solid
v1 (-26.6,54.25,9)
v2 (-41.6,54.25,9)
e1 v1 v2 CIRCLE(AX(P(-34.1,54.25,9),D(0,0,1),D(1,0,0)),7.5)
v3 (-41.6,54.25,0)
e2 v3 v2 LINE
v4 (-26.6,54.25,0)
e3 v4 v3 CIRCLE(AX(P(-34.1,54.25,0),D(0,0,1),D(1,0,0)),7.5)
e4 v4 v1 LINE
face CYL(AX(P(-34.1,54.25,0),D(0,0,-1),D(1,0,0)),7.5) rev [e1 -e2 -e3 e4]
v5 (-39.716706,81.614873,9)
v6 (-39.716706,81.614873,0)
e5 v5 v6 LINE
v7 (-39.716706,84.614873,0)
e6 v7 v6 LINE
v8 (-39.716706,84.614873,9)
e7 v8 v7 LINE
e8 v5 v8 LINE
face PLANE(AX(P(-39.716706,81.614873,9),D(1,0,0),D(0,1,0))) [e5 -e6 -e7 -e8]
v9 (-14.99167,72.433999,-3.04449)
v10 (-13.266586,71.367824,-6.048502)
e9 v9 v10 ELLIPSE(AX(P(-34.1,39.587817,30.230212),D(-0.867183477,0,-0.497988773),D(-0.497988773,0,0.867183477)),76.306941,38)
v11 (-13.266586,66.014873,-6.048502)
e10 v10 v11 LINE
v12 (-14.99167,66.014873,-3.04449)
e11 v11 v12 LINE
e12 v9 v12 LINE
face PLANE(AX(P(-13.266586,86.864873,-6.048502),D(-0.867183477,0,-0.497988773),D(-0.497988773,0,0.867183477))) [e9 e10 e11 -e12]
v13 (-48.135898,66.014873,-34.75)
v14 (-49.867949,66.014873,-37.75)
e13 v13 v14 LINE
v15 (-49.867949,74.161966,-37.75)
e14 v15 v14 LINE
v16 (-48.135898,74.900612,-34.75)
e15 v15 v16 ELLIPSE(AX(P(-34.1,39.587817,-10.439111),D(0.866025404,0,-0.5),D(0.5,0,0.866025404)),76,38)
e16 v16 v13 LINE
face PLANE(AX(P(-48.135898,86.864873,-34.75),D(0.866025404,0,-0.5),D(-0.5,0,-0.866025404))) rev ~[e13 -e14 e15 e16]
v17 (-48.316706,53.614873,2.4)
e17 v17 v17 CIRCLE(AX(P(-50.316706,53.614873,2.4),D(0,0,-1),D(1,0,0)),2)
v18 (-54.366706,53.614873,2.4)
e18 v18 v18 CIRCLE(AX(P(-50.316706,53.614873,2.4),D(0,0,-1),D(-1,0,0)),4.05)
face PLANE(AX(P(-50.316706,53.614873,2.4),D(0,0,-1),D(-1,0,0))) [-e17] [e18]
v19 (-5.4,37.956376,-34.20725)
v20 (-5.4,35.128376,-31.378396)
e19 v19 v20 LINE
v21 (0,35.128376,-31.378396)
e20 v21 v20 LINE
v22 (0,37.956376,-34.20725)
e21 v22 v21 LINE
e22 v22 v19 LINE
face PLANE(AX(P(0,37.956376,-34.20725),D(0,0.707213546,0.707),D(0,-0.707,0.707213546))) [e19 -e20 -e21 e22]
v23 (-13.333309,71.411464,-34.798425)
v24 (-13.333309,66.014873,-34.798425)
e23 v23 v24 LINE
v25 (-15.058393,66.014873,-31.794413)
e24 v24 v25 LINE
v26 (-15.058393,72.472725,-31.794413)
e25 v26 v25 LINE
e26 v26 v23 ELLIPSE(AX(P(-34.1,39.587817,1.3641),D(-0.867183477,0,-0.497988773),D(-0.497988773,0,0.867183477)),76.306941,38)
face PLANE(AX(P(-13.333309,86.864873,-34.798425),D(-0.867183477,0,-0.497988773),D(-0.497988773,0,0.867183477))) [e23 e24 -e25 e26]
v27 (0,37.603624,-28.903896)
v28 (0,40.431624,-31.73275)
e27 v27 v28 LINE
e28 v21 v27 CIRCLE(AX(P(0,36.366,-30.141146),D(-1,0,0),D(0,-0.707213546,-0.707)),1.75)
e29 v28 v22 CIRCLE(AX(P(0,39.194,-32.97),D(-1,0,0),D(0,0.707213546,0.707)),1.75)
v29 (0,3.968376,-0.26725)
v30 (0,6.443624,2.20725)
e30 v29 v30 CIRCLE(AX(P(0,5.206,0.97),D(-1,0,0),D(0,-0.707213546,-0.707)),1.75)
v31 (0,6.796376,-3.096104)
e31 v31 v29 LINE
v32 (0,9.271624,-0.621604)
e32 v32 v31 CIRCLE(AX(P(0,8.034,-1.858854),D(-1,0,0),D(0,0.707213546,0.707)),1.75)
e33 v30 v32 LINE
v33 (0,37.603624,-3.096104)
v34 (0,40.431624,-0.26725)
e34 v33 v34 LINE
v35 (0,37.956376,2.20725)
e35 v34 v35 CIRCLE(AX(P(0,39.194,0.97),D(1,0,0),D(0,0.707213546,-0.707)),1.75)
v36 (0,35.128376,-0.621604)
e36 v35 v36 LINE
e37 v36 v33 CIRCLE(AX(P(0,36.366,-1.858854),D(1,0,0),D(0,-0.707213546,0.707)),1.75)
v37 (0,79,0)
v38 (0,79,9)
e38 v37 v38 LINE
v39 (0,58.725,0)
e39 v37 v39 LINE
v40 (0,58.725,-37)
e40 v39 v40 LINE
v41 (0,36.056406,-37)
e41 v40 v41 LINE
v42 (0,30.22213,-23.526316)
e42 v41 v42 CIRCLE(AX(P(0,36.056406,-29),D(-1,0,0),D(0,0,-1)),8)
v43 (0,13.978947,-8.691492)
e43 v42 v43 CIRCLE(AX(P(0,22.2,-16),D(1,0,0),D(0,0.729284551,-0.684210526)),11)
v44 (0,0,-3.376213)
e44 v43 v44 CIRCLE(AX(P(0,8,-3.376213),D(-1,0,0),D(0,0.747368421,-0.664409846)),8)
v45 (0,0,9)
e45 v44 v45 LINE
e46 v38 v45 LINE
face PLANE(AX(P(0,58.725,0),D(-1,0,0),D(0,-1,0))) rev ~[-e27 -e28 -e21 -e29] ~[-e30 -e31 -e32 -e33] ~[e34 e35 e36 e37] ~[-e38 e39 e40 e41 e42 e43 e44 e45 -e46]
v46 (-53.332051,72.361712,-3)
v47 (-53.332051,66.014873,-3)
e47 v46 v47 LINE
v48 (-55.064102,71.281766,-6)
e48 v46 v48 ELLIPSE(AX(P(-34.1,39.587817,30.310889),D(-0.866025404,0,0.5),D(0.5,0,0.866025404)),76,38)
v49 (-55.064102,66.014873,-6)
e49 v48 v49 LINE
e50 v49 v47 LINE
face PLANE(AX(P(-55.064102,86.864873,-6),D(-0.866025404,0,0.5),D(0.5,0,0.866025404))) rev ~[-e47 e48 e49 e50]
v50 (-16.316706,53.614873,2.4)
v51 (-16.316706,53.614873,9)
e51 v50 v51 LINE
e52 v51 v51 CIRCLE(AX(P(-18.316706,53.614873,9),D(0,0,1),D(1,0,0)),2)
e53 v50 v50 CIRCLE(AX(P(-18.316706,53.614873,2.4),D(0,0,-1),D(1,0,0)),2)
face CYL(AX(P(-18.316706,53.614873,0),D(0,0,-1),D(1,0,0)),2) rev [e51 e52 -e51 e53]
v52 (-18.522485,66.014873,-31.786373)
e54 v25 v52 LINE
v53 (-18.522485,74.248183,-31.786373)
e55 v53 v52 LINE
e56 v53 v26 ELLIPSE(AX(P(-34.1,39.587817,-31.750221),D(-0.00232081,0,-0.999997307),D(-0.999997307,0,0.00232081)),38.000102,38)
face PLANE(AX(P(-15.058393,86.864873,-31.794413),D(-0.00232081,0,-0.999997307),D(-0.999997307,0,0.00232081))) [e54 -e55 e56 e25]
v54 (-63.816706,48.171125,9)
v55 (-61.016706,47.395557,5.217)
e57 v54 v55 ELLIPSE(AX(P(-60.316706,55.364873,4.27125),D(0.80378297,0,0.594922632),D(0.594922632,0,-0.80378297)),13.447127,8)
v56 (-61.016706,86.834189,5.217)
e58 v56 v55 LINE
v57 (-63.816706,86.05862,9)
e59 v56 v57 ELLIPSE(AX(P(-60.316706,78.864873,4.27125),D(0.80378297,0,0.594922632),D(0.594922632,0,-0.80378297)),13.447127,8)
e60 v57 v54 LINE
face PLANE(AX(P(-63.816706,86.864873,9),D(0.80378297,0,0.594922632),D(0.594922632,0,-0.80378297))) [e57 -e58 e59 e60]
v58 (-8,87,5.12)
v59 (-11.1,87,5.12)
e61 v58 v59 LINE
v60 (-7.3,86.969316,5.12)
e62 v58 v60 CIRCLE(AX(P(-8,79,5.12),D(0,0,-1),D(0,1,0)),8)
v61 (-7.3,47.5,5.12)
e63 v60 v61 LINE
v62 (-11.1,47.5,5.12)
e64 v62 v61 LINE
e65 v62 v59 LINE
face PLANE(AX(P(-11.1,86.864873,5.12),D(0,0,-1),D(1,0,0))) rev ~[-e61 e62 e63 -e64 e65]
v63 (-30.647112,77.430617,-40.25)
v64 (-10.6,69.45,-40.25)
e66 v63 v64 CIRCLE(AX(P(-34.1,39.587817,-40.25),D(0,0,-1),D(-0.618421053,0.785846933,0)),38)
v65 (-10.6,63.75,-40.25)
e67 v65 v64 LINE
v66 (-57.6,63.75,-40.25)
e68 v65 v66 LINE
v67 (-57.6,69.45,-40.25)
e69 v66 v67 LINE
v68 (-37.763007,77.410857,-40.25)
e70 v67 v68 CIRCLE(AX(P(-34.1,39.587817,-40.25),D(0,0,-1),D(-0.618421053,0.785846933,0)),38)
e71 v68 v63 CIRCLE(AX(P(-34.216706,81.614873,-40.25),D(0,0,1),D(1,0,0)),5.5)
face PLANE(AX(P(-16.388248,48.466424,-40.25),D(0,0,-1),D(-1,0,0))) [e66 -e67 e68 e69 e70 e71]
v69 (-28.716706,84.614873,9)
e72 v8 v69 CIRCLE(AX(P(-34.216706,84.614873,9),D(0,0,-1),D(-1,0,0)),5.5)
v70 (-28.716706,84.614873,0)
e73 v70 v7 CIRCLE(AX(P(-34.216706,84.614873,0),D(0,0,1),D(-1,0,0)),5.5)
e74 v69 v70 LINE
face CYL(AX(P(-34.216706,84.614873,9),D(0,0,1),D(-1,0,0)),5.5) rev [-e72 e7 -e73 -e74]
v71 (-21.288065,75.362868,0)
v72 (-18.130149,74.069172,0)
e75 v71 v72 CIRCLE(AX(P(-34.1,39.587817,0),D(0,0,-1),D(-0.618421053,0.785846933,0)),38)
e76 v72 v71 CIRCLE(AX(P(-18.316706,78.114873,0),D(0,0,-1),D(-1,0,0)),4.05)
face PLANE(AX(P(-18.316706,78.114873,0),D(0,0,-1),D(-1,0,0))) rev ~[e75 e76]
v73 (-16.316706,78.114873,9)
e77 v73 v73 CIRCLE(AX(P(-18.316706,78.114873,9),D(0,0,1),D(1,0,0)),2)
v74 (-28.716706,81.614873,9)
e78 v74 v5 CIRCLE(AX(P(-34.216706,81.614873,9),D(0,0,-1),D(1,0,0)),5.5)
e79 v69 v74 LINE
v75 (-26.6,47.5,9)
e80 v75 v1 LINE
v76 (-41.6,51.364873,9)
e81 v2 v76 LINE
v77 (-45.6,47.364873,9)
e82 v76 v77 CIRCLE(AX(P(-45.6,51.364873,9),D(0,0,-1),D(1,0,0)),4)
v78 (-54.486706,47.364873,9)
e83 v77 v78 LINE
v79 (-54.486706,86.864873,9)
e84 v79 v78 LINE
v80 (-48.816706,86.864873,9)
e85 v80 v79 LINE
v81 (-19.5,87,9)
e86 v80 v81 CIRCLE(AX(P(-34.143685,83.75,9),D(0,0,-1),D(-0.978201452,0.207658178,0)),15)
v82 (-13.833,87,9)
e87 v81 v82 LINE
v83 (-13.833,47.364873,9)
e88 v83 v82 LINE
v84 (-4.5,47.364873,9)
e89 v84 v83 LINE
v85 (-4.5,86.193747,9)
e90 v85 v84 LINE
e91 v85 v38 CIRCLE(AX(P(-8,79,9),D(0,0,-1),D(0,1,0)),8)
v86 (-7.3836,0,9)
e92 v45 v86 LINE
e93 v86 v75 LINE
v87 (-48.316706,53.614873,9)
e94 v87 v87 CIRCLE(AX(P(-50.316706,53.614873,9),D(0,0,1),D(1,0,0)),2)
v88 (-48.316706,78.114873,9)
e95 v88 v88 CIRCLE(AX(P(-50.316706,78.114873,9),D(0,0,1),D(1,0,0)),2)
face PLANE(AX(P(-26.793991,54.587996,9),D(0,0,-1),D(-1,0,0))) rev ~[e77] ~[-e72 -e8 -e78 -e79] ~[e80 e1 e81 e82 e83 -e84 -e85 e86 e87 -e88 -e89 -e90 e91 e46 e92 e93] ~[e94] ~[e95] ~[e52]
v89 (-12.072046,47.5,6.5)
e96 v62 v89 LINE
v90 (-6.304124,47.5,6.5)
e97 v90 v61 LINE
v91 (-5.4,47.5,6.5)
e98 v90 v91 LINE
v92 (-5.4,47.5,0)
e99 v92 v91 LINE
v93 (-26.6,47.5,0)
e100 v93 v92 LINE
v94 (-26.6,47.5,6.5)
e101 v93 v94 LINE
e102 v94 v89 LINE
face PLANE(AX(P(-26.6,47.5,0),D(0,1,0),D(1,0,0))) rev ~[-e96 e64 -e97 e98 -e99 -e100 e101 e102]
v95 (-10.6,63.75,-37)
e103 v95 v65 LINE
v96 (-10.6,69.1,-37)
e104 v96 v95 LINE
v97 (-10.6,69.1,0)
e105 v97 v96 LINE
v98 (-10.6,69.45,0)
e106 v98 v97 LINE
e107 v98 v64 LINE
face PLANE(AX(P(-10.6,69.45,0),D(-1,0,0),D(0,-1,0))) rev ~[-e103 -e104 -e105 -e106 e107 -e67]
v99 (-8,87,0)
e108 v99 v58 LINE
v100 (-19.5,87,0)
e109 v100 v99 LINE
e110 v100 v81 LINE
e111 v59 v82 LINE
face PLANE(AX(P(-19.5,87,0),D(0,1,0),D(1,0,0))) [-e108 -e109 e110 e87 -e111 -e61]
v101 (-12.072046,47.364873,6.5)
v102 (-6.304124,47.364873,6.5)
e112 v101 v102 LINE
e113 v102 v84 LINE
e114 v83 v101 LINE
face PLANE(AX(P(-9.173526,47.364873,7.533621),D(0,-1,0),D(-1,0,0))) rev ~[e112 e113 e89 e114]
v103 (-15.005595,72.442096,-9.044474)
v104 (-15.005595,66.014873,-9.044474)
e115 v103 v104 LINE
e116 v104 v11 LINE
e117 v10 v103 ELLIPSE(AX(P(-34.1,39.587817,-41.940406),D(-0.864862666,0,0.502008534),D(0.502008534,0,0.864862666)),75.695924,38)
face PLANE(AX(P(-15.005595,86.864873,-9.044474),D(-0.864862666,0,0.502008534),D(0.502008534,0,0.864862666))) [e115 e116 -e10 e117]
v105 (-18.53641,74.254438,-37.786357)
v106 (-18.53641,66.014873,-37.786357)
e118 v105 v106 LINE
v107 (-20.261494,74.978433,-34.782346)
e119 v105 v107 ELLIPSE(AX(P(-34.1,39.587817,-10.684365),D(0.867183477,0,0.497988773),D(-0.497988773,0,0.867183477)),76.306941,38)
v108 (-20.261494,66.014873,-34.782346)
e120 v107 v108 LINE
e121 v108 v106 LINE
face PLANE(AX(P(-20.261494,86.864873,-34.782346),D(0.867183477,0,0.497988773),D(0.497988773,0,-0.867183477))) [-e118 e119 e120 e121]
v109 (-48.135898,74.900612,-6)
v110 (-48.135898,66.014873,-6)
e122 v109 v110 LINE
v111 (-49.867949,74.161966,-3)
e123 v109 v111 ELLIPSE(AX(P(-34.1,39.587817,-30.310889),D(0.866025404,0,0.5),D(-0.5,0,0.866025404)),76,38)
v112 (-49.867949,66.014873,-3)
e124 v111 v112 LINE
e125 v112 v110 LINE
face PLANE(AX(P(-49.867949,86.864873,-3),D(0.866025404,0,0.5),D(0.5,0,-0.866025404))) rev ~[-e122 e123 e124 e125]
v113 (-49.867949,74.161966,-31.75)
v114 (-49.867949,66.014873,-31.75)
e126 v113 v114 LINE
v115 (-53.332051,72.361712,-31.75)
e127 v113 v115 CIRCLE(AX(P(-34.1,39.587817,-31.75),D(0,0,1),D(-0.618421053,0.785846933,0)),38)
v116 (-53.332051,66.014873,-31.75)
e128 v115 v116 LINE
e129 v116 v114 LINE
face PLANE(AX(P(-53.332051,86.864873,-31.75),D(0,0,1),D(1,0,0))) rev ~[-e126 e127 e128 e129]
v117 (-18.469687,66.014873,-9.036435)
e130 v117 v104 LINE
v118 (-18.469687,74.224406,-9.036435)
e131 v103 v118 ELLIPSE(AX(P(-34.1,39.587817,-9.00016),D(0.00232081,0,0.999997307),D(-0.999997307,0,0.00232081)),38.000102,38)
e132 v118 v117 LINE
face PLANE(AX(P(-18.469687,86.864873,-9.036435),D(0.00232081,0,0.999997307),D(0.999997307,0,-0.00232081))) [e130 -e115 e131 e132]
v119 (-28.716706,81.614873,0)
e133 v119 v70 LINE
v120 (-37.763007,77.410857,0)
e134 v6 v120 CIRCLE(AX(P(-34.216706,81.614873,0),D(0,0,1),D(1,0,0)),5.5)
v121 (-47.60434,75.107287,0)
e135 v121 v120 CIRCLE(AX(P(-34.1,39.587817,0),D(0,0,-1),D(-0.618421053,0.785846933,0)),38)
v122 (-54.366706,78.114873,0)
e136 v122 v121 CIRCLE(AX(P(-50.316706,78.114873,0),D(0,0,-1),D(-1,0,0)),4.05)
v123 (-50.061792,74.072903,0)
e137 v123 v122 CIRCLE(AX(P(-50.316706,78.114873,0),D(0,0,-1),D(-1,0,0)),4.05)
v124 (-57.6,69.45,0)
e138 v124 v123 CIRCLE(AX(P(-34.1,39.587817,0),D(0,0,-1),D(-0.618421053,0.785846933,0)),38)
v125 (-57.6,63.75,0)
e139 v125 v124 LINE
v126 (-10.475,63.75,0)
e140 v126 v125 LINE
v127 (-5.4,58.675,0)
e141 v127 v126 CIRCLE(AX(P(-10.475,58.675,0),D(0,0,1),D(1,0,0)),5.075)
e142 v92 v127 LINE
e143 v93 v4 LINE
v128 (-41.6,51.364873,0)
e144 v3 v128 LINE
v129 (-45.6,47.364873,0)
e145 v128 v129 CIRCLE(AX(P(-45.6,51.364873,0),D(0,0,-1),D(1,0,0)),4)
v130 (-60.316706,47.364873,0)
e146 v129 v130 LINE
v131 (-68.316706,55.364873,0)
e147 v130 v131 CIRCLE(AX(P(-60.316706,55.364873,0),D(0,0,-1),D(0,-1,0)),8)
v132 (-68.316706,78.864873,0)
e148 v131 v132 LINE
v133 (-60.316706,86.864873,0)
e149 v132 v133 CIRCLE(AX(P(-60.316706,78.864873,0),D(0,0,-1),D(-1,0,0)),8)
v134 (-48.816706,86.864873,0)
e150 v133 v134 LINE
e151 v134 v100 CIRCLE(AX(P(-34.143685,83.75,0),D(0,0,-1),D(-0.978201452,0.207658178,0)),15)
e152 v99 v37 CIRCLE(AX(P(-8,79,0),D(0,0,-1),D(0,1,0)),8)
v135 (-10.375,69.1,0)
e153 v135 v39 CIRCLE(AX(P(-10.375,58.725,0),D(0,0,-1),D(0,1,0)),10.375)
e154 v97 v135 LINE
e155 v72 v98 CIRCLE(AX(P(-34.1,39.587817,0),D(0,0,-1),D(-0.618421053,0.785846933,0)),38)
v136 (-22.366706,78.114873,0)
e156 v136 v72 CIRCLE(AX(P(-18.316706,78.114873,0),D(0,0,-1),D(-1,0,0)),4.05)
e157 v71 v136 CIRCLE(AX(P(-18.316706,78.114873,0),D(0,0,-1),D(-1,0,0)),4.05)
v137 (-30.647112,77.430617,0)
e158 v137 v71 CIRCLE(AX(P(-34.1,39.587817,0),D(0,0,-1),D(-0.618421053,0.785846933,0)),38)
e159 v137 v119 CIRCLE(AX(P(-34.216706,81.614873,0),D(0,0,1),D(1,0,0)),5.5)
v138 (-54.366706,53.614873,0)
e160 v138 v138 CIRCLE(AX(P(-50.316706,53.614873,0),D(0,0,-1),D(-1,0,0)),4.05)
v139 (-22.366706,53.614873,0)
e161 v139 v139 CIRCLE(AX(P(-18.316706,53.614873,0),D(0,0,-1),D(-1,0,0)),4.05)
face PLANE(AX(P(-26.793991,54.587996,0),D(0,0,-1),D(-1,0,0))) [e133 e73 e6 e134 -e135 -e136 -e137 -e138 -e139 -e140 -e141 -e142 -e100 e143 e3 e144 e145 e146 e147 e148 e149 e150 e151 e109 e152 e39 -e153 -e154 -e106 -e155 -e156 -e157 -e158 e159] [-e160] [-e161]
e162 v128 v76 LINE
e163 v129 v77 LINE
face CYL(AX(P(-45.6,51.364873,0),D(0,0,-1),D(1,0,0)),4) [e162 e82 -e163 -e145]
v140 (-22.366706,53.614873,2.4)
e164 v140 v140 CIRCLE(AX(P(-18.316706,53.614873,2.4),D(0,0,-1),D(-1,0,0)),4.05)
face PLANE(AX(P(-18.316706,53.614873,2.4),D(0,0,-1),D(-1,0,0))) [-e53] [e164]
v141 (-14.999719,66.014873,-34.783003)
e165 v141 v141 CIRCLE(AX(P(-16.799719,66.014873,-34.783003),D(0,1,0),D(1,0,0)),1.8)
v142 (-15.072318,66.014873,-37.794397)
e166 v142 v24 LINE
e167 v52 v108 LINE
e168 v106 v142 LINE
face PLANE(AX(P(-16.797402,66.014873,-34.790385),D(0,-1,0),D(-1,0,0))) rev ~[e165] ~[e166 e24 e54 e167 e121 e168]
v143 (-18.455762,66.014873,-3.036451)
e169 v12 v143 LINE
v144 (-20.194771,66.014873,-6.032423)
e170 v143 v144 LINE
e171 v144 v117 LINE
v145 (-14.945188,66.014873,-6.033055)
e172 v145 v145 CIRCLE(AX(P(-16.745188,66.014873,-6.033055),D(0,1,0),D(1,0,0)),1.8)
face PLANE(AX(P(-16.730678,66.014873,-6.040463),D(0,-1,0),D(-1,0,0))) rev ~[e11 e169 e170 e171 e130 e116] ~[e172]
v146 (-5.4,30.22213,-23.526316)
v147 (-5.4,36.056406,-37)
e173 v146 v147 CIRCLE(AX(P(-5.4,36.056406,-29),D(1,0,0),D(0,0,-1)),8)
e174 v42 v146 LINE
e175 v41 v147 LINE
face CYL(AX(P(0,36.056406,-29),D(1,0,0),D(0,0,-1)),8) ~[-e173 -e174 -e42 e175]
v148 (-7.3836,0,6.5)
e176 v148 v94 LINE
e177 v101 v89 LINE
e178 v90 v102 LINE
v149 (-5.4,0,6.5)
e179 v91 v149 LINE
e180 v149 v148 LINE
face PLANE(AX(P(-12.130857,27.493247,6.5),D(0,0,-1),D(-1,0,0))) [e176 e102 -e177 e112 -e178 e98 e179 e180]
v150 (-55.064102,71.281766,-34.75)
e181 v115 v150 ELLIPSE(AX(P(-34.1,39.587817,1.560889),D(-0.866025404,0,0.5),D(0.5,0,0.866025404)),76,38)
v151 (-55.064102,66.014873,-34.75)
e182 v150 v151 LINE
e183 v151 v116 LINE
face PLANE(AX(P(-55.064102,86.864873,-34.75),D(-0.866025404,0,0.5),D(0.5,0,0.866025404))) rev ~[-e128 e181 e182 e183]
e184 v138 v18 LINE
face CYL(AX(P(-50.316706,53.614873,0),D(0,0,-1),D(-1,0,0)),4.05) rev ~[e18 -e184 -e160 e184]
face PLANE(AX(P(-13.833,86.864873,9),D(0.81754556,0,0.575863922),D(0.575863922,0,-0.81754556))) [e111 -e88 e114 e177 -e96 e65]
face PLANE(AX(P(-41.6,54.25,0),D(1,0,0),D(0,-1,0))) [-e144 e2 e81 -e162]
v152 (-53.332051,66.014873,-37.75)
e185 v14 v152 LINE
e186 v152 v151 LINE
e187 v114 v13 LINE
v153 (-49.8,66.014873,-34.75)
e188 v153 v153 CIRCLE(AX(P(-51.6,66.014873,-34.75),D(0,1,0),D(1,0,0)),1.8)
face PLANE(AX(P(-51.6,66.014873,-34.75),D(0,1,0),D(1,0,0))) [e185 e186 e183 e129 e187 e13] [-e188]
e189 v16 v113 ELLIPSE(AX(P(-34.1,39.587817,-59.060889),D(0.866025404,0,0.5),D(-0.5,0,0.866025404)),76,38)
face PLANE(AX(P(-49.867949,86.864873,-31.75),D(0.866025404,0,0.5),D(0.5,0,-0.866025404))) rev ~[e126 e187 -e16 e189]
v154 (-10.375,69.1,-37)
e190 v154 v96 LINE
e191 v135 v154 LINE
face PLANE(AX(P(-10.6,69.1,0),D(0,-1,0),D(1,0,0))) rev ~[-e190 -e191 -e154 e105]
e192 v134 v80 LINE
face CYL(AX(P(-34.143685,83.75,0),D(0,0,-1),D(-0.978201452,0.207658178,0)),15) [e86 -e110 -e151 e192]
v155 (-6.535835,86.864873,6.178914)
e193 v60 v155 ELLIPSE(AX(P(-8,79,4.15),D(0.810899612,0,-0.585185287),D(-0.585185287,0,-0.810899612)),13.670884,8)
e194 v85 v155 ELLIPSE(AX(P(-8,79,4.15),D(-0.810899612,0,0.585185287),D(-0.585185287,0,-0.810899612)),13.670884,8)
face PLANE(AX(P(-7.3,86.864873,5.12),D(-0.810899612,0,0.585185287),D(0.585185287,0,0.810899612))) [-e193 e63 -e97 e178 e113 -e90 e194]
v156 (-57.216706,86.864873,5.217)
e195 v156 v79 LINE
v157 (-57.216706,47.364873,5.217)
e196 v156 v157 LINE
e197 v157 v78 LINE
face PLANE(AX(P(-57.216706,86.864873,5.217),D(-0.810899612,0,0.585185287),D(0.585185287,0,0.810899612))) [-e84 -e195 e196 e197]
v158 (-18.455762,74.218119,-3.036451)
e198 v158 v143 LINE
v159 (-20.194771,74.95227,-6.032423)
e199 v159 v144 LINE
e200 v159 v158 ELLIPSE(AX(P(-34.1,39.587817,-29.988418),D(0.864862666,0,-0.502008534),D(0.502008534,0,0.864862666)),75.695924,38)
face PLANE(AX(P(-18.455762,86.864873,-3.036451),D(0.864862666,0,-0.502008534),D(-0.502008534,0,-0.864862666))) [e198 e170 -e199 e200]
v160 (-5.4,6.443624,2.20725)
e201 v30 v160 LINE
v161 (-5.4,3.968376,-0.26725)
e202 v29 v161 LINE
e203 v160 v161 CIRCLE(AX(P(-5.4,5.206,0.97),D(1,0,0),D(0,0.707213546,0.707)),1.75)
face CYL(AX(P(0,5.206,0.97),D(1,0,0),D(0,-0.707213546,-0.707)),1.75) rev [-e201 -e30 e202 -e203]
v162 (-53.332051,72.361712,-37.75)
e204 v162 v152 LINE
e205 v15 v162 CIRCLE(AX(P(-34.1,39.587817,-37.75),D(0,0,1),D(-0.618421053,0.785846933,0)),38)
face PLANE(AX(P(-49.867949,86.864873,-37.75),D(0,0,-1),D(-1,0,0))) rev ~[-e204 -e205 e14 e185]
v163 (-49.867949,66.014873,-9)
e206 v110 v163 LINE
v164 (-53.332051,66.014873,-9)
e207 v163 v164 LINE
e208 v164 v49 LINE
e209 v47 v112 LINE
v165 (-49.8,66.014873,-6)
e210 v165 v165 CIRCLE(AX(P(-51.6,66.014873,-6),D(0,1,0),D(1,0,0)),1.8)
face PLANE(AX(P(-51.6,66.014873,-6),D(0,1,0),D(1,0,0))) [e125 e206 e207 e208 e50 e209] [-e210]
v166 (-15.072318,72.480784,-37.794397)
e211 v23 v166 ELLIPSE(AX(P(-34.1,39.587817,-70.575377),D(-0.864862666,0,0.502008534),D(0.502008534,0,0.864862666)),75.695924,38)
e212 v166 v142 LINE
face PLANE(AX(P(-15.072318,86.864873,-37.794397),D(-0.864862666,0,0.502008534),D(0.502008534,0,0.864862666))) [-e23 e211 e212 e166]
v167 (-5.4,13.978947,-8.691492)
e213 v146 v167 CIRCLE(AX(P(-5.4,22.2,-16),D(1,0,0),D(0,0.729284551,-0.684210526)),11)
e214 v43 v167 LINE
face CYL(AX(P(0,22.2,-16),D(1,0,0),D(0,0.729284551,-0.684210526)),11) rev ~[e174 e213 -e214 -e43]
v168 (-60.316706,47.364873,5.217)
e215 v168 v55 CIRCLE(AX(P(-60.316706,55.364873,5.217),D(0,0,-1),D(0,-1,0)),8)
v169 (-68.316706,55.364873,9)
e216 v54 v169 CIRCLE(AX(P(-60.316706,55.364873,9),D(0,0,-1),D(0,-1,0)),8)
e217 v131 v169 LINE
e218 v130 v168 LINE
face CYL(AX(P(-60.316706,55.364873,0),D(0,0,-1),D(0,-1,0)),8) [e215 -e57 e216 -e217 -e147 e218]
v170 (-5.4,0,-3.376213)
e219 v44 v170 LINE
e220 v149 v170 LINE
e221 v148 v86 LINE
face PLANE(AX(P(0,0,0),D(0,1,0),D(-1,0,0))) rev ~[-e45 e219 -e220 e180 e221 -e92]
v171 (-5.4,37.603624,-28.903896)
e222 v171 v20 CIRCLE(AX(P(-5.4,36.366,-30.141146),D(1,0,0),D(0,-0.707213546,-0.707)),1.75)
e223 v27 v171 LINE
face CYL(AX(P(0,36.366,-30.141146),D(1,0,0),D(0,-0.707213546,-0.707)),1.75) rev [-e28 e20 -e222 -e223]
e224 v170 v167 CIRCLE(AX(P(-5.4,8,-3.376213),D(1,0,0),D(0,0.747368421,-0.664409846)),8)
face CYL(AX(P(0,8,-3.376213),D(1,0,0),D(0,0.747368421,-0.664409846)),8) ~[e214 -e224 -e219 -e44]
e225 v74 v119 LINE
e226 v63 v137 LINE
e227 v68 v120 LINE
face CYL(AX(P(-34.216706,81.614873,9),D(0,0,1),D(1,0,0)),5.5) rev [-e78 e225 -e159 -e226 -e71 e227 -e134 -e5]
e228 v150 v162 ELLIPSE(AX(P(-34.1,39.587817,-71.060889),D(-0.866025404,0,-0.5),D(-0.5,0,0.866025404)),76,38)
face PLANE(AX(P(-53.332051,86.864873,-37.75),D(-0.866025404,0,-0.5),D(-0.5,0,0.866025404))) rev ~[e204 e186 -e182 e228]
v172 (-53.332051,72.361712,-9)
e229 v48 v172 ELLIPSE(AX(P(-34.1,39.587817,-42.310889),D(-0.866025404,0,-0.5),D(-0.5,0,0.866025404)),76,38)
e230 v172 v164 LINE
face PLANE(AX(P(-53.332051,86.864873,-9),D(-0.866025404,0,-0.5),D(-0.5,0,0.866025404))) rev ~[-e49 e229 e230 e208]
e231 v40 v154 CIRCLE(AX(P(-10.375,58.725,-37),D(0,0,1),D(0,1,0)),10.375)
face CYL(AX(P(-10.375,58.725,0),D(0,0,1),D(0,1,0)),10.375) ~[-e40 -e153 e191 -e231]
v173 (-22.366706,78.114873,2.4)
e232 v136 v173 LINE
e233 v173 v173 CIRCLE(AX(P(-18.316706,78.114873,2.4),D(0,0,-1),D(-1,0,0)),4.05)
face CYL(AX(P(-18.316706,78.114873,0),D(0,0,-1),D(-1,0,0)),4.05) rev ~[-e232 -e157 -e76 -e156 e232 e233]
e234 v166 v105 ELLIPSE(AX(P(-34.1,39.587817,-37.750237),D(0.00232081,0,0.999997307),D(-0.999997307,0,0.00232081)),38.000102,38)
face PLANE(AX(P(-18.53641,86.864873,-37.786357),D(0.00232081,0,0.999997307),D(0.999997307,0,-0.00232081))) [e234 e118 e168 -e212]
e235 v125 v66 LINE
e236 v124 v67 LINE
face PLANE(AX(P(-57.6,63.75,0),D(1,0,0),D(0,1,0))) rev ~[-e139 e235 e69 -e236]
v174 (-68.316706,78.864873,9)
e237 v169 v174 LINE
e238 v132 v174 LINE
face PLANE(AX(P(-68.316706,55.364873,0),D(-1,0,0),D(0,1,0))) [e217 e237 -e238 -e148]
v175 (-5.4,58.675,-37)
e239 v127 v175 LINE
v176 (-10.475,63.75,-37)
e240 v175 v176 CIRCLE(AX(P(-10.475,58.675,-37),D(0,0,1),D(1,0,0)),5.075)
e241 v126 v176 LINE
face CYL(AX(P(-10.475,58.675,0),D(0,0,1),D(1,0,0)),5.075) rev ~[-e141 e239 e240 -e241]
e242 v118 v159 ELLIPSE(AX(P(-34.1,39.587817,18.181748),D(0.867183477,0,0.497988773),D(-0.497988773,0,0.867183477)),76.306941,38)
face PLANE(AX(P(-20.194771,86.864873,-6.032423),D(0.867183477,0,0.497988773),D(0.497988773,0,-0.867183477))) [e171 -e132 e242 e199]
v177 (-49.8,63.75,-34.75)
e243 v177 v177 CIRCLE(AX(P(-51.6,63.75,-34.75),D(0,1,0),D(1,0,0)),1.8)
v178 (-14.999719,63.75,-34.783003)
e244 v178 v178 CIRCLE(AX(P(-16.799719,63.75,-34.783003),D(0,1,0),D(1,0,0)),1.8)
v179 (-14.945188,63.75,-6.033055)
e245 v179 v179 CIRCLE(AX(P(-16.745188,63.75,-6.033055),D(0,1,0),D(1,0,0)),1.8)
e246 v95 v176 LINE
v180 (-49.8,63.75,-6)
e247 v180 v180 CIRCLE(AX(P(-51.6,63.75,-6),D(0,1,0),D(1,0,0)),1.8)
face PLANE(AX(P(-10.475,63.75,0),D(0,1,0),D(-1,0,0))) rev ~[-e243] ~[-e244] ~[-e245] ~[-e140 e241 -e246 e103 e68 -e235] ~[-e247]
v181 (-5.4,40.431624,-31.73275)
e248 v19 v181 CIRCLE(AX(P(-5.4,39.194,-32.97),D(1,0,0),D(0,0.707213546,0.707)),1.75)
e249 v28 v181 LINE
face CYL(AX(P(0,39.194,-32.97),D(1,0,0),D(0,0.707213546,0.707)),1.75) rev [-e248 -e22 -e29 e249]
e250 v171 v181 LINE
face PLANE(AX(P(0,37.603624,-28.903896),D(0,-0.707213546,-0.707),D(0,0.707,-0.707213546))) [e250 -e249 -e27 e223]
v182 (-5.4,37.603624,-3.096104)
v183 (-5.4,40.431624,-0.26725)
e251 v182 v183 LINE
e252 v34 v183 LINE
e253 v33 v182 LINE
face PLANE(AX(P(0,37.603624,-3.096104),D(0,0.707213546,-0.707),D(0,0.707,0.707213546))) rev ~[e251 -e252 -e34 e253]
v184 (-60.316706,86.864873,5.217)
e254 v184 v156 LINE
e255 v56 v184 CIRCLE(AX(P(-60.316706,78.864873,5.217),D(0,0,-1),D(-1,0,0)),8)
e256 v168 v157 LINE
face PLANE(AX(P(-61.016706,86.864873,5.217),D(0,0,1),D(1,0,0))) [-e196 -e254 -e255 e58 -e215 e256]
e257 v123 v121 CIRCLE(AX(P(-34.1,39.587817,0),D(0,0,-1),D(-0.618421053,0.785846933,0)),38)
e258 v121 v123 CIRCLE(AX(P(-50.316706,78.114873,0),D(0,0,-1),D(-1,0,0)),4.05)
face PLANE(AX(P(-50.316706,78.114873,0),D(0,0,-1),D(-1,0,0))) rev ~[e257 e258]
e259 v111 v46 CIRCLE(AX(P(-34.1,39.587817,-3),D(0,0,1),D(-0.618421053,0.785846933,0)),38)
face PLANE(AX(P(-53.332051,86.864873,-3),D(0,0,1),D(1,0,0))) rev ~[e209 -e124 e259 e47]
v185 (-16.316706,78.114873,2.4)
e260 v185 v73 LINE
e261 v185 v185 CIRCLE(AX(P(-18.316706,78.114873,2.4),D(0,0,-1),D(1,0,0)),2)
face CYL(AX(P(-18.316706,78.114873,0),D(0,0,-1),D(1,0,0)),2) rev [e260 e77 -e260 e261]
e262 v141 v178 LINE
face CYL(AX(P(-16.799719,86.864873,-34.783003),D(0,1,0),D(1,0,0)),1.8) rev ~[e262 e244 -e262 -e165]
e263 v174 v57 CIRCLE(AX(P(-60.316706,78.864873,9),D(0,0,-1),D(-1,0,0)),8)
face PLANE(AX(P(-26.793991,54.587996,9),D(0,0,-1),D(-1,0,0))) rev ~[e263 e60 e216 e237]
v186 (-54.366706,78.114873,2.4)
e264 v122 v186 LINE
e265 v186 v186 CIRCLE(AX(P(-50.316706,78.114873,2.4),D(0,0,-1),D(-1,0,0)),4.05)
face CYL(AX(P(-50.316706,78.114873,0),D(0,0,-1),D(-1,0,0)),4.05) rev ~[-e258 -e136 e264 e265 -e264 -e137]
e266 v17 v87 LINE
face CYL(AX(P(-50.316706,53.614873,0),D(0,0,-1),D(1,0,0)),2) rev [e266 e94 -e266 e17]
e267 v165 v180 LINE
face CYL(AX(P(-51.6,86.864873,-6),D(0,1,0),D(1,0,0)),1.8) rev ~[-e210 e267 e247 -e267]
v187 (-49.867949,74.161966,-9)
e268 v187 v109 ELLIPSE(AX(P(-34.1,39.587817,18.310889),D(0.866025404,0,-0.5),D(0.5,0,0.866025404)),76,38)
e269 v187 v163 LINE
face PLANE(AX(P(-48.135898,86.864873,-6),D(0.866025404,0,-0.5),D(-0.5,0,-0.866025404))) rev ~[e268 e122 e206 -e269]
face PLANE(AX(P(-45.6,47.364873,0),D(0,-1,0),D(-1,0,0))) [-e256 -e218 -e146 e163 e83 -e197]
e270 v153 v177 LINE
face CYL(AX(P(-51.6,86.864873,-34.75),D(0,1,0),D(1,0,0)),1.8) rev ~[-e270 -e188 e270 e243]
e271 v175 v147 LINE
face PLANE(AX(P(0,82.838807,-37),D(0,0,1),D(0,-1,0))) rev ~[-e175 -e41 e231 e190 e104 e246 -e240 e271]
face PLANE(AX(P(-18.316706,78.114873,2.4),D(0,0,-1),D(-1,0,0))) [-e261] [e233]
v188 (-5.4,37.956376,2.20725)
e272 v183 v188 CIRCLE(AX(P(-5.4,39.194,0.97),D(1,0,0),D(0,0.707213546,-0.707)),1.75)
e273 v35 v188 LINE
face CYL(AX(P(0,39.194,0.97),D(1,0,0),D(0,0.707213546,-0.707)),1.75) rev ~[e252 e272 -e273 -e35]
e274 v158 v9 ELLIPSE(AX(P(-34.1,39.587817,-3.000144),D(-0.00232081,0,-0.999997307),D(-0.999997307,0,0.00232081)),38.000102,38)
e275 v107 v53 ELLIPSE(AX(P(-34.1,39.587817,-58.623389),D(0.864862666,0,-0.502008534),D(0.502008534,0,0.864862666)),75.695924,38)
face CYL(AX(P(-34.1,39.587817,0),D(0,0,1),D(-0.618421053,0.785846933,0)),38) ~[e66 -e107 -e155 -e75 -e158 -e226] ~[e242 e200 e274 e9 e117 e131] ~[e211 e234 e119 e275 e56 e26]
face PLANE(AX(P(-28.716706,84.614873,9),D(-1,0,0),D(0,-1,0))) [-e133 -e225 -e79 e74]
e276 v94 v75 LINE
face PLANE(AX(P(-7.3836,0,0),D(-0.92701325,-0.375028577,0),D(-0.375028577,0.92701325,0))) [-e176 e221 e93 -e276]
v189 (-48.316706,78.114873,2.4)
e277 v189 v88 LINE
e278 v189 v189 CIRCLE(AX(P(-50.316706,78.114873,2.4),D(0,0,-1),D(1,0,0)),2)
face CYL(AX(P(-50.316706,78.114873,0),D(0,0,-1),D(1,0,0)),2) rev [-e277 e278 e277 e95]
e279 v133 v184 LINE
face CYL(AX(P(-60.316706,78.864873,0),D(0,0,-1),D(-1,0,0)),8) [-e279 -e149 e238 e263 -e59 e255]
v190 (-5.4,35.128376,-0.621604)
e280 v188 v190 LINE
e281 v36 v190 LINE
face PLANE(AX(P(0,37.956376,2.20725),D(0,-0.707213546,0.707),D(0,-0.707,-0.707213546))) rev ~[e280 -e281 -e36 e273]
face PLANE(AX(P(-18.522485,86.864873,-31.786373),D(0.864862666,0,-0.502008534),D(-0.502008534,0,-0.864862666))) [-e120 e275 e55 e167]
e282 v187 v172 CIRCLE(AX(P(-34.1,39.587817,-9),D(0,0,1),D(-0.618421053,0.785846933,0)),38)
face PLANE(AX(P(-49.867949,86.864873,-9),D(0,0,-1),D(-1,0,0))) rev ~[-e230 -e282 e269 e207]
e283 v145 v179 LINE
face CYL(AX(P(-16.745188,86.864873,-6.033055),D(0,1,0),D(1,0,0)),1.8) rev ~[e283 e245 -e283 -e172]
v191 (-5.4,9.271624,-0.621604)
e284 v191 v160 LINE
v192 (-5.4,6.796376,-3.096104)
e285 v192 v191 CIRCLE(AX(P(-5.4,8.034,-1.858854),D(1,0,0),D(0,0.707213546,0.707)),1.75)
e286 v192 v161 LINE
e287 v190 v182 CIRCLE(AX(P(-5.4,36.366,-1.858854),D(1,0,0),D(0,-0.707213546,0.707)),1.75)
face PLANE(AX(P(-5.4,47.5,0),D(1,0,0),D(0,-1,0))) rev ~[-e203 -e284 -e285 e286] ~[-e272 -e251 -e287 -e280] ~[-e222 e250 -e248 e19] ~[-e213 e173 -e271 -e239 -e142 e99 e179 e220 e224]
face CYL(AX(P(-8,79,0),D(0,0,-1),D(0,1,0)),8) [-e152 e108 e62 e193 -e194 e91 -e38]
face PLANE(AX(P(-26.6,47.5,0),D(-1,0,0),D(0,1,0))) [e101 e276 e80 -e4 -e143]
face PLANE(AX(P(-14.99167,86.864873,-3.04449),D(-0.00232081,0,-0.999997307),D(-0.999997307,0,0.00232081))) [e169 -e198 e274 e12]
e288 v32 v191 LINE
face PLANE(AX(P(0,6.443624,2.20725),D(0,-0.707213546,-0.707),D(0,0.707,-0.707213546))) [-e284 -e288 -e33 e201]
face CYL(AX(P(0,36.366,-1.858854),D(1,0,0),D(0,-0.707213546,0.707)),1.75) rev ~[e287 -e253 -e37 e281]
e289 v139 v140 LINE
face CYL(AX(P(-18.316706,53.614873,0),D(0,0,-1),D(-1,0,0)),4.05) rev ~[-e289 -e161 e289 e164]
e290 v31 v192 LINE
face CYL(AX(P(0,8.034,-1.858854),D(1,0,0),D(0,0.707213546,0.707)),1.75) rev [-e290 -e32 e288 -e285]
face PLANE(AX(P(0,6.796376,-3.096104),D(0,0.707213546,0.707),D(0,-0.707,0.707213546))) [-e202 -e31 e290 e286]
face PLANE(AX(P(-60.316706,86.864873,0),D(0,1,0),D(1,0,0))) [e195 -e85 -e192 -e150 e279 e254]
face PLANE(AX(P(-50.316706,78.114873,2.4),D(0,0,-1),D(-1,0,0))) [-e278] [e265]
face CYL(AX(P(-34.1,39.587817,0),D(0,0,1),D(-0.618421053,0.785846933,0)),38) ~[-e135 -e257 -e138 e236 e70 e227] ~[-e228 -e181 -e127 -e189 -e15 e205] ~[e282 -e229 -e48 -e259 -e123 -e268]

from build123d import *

# Parameters (mm, degrees)
SKETCH1_R               = 2
BOSS_EXTRUDE1_DEPTH     = 9
BOSS_EXTRUDE2_DEPTH     = 40.25
CUT_EXTRUDE1_DEPTH      = 50
SKETCH6_W               = 3.25
SKETCH6_H               = 24.113806611
CUT_EXTRUDE2_DEPTH      = 10.6
SKETCH7_R               = 1.8
CUT_EXTRUDE3_DEPTH      = 39.5
CUT_EXTRUDE3_DEPTH_BACK = 39.5
CUT_EXTRUDE4_DEPTH      = 20.85
SKETCH9_R               = 4.05
CUT_EXTRUDE5_DEPTH      = 2.4
CUT_EXTRUDE6_DEPTH      = 6.5


with BuildPart() as part:
    # Sketch1 → Boss-Extrude1 (new body)
    with BuildSketch(Plane.XY):
        with BuildLine():
            Line((0, 0), (-7.3836, 0))
            Line((-7.3836, 0), (-26.6, 47.5))
            Line((-26.6, 47.5), (-26.6, 54.25))
            ThreePointArc((-26.6, 54.25), (-34.1, 61.75), (-41.6, 54.25))
            Line((-41.6, 54.25), (-41.6, 51.364872675))
            ThreePointArc((-41.6, 51.364872675), (-42.771572875, 48.53644555), (-45.6, 47.364872675))
            Line((-45.6, 47.364872675), (-60.316706428, 47.364872675))
            ThreePointArc((-60.316706428, 47.364872675), (-65.973560677, 49.708018426), (-68.316706428, 55.364872675))
            Line((-68.316706428, 55.364872675), (-68.316706428, 78.864872675))
            ThreePointArc((-68.316706428, 78.864872675), (-65.973560677, 84.521726925), (-60.316706428, 86.864872675))
            Line((-60.316706428, 86.864872675), (-48.816706428, 86.864872675))
            ThreePointArc((-48.816706428, 86.864872675), (-34.212822301, 98.749840665), (-19.5, 87))
            Line((-19.5, 87), (-8, 87))
            ThreePointArc((-8, 87), (-2.343145751, 84.656854249), (0, 79))
            Line((0, 79), (0, 0))
        make_face()
        with Locations((-50.316706428, 78.114872675)):
            Circle(SKETCH1_R, mode=Mode.SUBTRACT)
        with Locations((-18.316706428, 78.114872675)):
            Circle(SKETCH1_R, mode=Mode.SUBTRACT)
        with Locations((-50.316706428, 53.614872675)):
            Circle(SKETCH1_R, mode=Mode.SUBTRACT)
        with Locations((-18.316706428, 53.614872675)):
            Circle(SKETCH1_R, mode=Mode.SUBTRACT)
    extrude(amount=BOSS_EXTRUDE1_DEPTH)

    # Sketch3 → Boss-Extrude2 (add)
    with BuildSketch(Plane(origin=(0, 0, 0), x_dir=(-1, 0, 0), z_dir=(0, 0, -1))):
        with BuildLine():
            Line((0, 0), (5.4, 0))
            Line((5.4, 0), (5.4, 58.675))
            ThreePointArc((5.4, 58.675), (6.886433085, 62.263566915), (10.475, 63.75))
            Line((10.475, 63.75), (57.6, 63.75))
            Line((57.6, 63.75), (57.6, 69.45))
            ThreePointArc((57.6, 69.45), (34.1, 77.587816557), (10.6, 69.45))
            Line((10.6, 69.45), (10.6, 69.1))
            Line((10.6, 69.1), (10.375, 69.1))
            ThreePointArc((10.375, 69.1), (3.038767145, 66.061232855), (0, 58.725))
            Line((0, 58.725), (0, 0))
        make_face()
    extrude(amount=BOSS_EXTRUDE2_DEPTH)

    # Sketch5 → Cut-Extrude1 (cut)
    with BuildSketch(Plane.XY.offset(9)):
        with BuildLine():
            Line((-28.716706428, 84.614872675), (-28.716706428, 81.614872675))
            ThreePointArc((-28.716706428, 81.614872675), (-34.216706428, 76.114872675), (-39.716706428, 81.614872675))
            Line((-39.716706428, 81.614872675), (-39.716706428, 84.614872675))
            ThreePointArc((-39.716706428, 84.614872675), (-34.216706428, 90.114872675), (-28.716706428, 84.614872675))
        make_face()
    extrude(amount=-CUT_EXTRUDE1_DEPTH, mode=Mode.SUBTRACT)

    # Sketch6 → Cut-Extrude2 (cut)
    with BuildSketch(Plane(origin=(0, 0, 0), x_dir=(0, 0, -1), z_dir=(1, 0, 0))):
        with BuildLine():
            Line((37, 58.725), (37, 36.056406461))
            ThreePointArc((37, 36.056406461), (32.178877657, 28.715102977), (23.526315789, 30.222130056))
            ThreePointArc((23.526315789, 30.222130056), (7.877678535, 29.618078863), (8.691491696, 13.978947368))
            ThreePointArc((8.691491696, 13.978947368), (10.853899034, 5.156725387), (3.37621293, 0))
            Line((3.37621293, 0), (37.9285464, 0))
            Line((37.9285464, 0), (40.25, 0))
            Line((40.25, 0), (40.25, 58.725))
            Line((40.25, 58.725), (37, 58.725))
        make_face()
        with BuildLine():
            Line((3.096104185, 37.603623706), (0.26725, 40.431623706))
            ThreePointArc((0.26725, 40.431623706), (-2.207623706, 40.43125), (-2.20725, 37.956376294))
            Line((-2.20725, 37.956376294), (0.621604185, 35.128376294))
            ThreePointArc((0.621604185, 35.128376294), (3.096477891, 35.12875), (3.096104185, 37.603623706))
        make_face()
        with BuildLine():
            ThreePointArc((31.73275, 40.431623706), (34.207623706, 40.43125), (34.20725, 37.956376294))
            Line((34.20725, 37.956376294), (31.378395815, 35.128376294))
            ThreePointArc((31.378395815, 35.128376294), (28.903522109, 35.12875), (28.903895815, 37.603623706))
            Line((28.903895815, 37.603623706), (31.73275, 40.431623706))
        make_face()
        with BuildLine():
            ThreePointArc((0.26725, 3.968376294), (-2.207623706, 3.96875), (-2.20725, 6.443623706))
            Line((-2.20725, 6.443623706), (0.621604185, 9.271623706))
            ThreePointArc((0.621604185, 9.271623706), (3.096477891, 9.27125), (3.096104185, 6.796376294))
            Line((3.096104185, 6.796376294), (0.26725, 3.968376294))
        make_face()
        with Locations((38.625, 70.781903306)):
            Rectangle(SKETCH6_W, SKETCH6_H)
    extrude(amount=-CUT_EXTRUDE2_DEPTH, mode=Mode.SUBTRACT)

    # Sketch7 → Cut-Extrude3 (cut, two sides)
    with BuildSketch(Plane(origin=(0, 86.864872675, 0), x_dir=(1, 0, 0), z_dir=(0, 1, 0))) as cut_extrude3_sk:
        with Locations((-51.6, 34.75)):
            Circle(SKETCH7_R)
        with Locations((-51.6, 6)):
            Circle(SKETCH7_R)
        with Locations((-16.745188355, 6.033054654)):
            Circle(SKETCH7_R)
        with Locations((-16.799718585, 34.78300294)):
            Circle(SKETCH7_R)
        Polygon((-13.833, -9), (-11.1, -5.12), (-7.3, -5.12), (-4.5, -9), align=None)
        Polygon((-63.816706428, -9), (-61.016706428, -5.217), (-57.216706428, -5.217), (-54.486706428, -9), align=None)
    extrude(amount=CUT_EXTRUDE3_DEPTH, mode=Mode.SUBTRACT)
    extrude(cut_extrude3_sk.sketch, amount=-CUT_EXTRUDE3_DEPTH_BACK, mode=Mode.SUBTRACT)

    # Sketch8 → Cut-Extrude4 (cut)
    with BuildSketch(Plane(origin=(0, 86.864872675, 0), x_dir=(1, 0, 0), z_dir=(0, 1, 0))):
        Polygon((-48.135898385, 34.75), (-49.867949192, 37.75), (-53.332050808, 37.75), (-55.064101615, 34.75), (-53.332050808, 31.75), (-49.867949192, 31.75), align=None)
        Polygon((-48.135898385, 6), (-49.867949192, 9), (-53.332050808, 9), (-55.064101615, 6), (-53.332050808, 3), (-49.867949192, 3), align=None)
        Polygon((-18.469686835, 9.036434754), (-15.005594549, 9.044474276), (-13.266585975, 6.048502117), (-14.991669687, 3.044490435), (-18.455761973, 3.036450912), (-20.194770547, 6.032423072), align=None)
        Polygon((-18.522485268, 31.786373486), (-20.261493842, 34.782345646), (-18.53641013, 37.786357328), (-15.072317844, 37.79439685), (-13.33330927, 34.798424691), (-15.058392982, 31.794413009), align=None)
    extrude(amount=-CUT_EXTRUDE4_DEPTH, mode=Mode.SUBTRACT)

    # Sketch9 → Cut-Extrude5 (cut)
    with BuildSketch(Plane(origin=(0, 0, 0), x_dir=(-1, 0, 0), z_dir=(0, 0, -1))):
        with Locations((18.316706428, 78.114872675)):
            Circle(SKETCH9_R)
        with Locations((50.316706428, 78.114872675)):
            Circle(SKETCH9_R)
        with Locations((18.316706428, 53.614872675)):
            Circle(SKETCH9_R)
        with Locations((50.316706428, 53.614872675)):
            Circle(SKETCH9_R)
    extrude(amount=-CUT_EXTRUDE5_DEPTH, mode=Mode.SUBTRACT)

    # Sketch10 → Cut-Extrude6 (cut)
    with BuildSketch(Plane(origin=(0, 0, 0), x_dir=(-1, 0, 0), z_dir=(0, 0, -1))):
        Polygon((26.6, 47.5), (5.4, 47.5), (5.4, 0), (7.3836, 0), align=None)
    extrude(amount=-CUT_EXTRUDE6_DEPTH, mode=Mode.SUBTRACT)


solid = part.part
